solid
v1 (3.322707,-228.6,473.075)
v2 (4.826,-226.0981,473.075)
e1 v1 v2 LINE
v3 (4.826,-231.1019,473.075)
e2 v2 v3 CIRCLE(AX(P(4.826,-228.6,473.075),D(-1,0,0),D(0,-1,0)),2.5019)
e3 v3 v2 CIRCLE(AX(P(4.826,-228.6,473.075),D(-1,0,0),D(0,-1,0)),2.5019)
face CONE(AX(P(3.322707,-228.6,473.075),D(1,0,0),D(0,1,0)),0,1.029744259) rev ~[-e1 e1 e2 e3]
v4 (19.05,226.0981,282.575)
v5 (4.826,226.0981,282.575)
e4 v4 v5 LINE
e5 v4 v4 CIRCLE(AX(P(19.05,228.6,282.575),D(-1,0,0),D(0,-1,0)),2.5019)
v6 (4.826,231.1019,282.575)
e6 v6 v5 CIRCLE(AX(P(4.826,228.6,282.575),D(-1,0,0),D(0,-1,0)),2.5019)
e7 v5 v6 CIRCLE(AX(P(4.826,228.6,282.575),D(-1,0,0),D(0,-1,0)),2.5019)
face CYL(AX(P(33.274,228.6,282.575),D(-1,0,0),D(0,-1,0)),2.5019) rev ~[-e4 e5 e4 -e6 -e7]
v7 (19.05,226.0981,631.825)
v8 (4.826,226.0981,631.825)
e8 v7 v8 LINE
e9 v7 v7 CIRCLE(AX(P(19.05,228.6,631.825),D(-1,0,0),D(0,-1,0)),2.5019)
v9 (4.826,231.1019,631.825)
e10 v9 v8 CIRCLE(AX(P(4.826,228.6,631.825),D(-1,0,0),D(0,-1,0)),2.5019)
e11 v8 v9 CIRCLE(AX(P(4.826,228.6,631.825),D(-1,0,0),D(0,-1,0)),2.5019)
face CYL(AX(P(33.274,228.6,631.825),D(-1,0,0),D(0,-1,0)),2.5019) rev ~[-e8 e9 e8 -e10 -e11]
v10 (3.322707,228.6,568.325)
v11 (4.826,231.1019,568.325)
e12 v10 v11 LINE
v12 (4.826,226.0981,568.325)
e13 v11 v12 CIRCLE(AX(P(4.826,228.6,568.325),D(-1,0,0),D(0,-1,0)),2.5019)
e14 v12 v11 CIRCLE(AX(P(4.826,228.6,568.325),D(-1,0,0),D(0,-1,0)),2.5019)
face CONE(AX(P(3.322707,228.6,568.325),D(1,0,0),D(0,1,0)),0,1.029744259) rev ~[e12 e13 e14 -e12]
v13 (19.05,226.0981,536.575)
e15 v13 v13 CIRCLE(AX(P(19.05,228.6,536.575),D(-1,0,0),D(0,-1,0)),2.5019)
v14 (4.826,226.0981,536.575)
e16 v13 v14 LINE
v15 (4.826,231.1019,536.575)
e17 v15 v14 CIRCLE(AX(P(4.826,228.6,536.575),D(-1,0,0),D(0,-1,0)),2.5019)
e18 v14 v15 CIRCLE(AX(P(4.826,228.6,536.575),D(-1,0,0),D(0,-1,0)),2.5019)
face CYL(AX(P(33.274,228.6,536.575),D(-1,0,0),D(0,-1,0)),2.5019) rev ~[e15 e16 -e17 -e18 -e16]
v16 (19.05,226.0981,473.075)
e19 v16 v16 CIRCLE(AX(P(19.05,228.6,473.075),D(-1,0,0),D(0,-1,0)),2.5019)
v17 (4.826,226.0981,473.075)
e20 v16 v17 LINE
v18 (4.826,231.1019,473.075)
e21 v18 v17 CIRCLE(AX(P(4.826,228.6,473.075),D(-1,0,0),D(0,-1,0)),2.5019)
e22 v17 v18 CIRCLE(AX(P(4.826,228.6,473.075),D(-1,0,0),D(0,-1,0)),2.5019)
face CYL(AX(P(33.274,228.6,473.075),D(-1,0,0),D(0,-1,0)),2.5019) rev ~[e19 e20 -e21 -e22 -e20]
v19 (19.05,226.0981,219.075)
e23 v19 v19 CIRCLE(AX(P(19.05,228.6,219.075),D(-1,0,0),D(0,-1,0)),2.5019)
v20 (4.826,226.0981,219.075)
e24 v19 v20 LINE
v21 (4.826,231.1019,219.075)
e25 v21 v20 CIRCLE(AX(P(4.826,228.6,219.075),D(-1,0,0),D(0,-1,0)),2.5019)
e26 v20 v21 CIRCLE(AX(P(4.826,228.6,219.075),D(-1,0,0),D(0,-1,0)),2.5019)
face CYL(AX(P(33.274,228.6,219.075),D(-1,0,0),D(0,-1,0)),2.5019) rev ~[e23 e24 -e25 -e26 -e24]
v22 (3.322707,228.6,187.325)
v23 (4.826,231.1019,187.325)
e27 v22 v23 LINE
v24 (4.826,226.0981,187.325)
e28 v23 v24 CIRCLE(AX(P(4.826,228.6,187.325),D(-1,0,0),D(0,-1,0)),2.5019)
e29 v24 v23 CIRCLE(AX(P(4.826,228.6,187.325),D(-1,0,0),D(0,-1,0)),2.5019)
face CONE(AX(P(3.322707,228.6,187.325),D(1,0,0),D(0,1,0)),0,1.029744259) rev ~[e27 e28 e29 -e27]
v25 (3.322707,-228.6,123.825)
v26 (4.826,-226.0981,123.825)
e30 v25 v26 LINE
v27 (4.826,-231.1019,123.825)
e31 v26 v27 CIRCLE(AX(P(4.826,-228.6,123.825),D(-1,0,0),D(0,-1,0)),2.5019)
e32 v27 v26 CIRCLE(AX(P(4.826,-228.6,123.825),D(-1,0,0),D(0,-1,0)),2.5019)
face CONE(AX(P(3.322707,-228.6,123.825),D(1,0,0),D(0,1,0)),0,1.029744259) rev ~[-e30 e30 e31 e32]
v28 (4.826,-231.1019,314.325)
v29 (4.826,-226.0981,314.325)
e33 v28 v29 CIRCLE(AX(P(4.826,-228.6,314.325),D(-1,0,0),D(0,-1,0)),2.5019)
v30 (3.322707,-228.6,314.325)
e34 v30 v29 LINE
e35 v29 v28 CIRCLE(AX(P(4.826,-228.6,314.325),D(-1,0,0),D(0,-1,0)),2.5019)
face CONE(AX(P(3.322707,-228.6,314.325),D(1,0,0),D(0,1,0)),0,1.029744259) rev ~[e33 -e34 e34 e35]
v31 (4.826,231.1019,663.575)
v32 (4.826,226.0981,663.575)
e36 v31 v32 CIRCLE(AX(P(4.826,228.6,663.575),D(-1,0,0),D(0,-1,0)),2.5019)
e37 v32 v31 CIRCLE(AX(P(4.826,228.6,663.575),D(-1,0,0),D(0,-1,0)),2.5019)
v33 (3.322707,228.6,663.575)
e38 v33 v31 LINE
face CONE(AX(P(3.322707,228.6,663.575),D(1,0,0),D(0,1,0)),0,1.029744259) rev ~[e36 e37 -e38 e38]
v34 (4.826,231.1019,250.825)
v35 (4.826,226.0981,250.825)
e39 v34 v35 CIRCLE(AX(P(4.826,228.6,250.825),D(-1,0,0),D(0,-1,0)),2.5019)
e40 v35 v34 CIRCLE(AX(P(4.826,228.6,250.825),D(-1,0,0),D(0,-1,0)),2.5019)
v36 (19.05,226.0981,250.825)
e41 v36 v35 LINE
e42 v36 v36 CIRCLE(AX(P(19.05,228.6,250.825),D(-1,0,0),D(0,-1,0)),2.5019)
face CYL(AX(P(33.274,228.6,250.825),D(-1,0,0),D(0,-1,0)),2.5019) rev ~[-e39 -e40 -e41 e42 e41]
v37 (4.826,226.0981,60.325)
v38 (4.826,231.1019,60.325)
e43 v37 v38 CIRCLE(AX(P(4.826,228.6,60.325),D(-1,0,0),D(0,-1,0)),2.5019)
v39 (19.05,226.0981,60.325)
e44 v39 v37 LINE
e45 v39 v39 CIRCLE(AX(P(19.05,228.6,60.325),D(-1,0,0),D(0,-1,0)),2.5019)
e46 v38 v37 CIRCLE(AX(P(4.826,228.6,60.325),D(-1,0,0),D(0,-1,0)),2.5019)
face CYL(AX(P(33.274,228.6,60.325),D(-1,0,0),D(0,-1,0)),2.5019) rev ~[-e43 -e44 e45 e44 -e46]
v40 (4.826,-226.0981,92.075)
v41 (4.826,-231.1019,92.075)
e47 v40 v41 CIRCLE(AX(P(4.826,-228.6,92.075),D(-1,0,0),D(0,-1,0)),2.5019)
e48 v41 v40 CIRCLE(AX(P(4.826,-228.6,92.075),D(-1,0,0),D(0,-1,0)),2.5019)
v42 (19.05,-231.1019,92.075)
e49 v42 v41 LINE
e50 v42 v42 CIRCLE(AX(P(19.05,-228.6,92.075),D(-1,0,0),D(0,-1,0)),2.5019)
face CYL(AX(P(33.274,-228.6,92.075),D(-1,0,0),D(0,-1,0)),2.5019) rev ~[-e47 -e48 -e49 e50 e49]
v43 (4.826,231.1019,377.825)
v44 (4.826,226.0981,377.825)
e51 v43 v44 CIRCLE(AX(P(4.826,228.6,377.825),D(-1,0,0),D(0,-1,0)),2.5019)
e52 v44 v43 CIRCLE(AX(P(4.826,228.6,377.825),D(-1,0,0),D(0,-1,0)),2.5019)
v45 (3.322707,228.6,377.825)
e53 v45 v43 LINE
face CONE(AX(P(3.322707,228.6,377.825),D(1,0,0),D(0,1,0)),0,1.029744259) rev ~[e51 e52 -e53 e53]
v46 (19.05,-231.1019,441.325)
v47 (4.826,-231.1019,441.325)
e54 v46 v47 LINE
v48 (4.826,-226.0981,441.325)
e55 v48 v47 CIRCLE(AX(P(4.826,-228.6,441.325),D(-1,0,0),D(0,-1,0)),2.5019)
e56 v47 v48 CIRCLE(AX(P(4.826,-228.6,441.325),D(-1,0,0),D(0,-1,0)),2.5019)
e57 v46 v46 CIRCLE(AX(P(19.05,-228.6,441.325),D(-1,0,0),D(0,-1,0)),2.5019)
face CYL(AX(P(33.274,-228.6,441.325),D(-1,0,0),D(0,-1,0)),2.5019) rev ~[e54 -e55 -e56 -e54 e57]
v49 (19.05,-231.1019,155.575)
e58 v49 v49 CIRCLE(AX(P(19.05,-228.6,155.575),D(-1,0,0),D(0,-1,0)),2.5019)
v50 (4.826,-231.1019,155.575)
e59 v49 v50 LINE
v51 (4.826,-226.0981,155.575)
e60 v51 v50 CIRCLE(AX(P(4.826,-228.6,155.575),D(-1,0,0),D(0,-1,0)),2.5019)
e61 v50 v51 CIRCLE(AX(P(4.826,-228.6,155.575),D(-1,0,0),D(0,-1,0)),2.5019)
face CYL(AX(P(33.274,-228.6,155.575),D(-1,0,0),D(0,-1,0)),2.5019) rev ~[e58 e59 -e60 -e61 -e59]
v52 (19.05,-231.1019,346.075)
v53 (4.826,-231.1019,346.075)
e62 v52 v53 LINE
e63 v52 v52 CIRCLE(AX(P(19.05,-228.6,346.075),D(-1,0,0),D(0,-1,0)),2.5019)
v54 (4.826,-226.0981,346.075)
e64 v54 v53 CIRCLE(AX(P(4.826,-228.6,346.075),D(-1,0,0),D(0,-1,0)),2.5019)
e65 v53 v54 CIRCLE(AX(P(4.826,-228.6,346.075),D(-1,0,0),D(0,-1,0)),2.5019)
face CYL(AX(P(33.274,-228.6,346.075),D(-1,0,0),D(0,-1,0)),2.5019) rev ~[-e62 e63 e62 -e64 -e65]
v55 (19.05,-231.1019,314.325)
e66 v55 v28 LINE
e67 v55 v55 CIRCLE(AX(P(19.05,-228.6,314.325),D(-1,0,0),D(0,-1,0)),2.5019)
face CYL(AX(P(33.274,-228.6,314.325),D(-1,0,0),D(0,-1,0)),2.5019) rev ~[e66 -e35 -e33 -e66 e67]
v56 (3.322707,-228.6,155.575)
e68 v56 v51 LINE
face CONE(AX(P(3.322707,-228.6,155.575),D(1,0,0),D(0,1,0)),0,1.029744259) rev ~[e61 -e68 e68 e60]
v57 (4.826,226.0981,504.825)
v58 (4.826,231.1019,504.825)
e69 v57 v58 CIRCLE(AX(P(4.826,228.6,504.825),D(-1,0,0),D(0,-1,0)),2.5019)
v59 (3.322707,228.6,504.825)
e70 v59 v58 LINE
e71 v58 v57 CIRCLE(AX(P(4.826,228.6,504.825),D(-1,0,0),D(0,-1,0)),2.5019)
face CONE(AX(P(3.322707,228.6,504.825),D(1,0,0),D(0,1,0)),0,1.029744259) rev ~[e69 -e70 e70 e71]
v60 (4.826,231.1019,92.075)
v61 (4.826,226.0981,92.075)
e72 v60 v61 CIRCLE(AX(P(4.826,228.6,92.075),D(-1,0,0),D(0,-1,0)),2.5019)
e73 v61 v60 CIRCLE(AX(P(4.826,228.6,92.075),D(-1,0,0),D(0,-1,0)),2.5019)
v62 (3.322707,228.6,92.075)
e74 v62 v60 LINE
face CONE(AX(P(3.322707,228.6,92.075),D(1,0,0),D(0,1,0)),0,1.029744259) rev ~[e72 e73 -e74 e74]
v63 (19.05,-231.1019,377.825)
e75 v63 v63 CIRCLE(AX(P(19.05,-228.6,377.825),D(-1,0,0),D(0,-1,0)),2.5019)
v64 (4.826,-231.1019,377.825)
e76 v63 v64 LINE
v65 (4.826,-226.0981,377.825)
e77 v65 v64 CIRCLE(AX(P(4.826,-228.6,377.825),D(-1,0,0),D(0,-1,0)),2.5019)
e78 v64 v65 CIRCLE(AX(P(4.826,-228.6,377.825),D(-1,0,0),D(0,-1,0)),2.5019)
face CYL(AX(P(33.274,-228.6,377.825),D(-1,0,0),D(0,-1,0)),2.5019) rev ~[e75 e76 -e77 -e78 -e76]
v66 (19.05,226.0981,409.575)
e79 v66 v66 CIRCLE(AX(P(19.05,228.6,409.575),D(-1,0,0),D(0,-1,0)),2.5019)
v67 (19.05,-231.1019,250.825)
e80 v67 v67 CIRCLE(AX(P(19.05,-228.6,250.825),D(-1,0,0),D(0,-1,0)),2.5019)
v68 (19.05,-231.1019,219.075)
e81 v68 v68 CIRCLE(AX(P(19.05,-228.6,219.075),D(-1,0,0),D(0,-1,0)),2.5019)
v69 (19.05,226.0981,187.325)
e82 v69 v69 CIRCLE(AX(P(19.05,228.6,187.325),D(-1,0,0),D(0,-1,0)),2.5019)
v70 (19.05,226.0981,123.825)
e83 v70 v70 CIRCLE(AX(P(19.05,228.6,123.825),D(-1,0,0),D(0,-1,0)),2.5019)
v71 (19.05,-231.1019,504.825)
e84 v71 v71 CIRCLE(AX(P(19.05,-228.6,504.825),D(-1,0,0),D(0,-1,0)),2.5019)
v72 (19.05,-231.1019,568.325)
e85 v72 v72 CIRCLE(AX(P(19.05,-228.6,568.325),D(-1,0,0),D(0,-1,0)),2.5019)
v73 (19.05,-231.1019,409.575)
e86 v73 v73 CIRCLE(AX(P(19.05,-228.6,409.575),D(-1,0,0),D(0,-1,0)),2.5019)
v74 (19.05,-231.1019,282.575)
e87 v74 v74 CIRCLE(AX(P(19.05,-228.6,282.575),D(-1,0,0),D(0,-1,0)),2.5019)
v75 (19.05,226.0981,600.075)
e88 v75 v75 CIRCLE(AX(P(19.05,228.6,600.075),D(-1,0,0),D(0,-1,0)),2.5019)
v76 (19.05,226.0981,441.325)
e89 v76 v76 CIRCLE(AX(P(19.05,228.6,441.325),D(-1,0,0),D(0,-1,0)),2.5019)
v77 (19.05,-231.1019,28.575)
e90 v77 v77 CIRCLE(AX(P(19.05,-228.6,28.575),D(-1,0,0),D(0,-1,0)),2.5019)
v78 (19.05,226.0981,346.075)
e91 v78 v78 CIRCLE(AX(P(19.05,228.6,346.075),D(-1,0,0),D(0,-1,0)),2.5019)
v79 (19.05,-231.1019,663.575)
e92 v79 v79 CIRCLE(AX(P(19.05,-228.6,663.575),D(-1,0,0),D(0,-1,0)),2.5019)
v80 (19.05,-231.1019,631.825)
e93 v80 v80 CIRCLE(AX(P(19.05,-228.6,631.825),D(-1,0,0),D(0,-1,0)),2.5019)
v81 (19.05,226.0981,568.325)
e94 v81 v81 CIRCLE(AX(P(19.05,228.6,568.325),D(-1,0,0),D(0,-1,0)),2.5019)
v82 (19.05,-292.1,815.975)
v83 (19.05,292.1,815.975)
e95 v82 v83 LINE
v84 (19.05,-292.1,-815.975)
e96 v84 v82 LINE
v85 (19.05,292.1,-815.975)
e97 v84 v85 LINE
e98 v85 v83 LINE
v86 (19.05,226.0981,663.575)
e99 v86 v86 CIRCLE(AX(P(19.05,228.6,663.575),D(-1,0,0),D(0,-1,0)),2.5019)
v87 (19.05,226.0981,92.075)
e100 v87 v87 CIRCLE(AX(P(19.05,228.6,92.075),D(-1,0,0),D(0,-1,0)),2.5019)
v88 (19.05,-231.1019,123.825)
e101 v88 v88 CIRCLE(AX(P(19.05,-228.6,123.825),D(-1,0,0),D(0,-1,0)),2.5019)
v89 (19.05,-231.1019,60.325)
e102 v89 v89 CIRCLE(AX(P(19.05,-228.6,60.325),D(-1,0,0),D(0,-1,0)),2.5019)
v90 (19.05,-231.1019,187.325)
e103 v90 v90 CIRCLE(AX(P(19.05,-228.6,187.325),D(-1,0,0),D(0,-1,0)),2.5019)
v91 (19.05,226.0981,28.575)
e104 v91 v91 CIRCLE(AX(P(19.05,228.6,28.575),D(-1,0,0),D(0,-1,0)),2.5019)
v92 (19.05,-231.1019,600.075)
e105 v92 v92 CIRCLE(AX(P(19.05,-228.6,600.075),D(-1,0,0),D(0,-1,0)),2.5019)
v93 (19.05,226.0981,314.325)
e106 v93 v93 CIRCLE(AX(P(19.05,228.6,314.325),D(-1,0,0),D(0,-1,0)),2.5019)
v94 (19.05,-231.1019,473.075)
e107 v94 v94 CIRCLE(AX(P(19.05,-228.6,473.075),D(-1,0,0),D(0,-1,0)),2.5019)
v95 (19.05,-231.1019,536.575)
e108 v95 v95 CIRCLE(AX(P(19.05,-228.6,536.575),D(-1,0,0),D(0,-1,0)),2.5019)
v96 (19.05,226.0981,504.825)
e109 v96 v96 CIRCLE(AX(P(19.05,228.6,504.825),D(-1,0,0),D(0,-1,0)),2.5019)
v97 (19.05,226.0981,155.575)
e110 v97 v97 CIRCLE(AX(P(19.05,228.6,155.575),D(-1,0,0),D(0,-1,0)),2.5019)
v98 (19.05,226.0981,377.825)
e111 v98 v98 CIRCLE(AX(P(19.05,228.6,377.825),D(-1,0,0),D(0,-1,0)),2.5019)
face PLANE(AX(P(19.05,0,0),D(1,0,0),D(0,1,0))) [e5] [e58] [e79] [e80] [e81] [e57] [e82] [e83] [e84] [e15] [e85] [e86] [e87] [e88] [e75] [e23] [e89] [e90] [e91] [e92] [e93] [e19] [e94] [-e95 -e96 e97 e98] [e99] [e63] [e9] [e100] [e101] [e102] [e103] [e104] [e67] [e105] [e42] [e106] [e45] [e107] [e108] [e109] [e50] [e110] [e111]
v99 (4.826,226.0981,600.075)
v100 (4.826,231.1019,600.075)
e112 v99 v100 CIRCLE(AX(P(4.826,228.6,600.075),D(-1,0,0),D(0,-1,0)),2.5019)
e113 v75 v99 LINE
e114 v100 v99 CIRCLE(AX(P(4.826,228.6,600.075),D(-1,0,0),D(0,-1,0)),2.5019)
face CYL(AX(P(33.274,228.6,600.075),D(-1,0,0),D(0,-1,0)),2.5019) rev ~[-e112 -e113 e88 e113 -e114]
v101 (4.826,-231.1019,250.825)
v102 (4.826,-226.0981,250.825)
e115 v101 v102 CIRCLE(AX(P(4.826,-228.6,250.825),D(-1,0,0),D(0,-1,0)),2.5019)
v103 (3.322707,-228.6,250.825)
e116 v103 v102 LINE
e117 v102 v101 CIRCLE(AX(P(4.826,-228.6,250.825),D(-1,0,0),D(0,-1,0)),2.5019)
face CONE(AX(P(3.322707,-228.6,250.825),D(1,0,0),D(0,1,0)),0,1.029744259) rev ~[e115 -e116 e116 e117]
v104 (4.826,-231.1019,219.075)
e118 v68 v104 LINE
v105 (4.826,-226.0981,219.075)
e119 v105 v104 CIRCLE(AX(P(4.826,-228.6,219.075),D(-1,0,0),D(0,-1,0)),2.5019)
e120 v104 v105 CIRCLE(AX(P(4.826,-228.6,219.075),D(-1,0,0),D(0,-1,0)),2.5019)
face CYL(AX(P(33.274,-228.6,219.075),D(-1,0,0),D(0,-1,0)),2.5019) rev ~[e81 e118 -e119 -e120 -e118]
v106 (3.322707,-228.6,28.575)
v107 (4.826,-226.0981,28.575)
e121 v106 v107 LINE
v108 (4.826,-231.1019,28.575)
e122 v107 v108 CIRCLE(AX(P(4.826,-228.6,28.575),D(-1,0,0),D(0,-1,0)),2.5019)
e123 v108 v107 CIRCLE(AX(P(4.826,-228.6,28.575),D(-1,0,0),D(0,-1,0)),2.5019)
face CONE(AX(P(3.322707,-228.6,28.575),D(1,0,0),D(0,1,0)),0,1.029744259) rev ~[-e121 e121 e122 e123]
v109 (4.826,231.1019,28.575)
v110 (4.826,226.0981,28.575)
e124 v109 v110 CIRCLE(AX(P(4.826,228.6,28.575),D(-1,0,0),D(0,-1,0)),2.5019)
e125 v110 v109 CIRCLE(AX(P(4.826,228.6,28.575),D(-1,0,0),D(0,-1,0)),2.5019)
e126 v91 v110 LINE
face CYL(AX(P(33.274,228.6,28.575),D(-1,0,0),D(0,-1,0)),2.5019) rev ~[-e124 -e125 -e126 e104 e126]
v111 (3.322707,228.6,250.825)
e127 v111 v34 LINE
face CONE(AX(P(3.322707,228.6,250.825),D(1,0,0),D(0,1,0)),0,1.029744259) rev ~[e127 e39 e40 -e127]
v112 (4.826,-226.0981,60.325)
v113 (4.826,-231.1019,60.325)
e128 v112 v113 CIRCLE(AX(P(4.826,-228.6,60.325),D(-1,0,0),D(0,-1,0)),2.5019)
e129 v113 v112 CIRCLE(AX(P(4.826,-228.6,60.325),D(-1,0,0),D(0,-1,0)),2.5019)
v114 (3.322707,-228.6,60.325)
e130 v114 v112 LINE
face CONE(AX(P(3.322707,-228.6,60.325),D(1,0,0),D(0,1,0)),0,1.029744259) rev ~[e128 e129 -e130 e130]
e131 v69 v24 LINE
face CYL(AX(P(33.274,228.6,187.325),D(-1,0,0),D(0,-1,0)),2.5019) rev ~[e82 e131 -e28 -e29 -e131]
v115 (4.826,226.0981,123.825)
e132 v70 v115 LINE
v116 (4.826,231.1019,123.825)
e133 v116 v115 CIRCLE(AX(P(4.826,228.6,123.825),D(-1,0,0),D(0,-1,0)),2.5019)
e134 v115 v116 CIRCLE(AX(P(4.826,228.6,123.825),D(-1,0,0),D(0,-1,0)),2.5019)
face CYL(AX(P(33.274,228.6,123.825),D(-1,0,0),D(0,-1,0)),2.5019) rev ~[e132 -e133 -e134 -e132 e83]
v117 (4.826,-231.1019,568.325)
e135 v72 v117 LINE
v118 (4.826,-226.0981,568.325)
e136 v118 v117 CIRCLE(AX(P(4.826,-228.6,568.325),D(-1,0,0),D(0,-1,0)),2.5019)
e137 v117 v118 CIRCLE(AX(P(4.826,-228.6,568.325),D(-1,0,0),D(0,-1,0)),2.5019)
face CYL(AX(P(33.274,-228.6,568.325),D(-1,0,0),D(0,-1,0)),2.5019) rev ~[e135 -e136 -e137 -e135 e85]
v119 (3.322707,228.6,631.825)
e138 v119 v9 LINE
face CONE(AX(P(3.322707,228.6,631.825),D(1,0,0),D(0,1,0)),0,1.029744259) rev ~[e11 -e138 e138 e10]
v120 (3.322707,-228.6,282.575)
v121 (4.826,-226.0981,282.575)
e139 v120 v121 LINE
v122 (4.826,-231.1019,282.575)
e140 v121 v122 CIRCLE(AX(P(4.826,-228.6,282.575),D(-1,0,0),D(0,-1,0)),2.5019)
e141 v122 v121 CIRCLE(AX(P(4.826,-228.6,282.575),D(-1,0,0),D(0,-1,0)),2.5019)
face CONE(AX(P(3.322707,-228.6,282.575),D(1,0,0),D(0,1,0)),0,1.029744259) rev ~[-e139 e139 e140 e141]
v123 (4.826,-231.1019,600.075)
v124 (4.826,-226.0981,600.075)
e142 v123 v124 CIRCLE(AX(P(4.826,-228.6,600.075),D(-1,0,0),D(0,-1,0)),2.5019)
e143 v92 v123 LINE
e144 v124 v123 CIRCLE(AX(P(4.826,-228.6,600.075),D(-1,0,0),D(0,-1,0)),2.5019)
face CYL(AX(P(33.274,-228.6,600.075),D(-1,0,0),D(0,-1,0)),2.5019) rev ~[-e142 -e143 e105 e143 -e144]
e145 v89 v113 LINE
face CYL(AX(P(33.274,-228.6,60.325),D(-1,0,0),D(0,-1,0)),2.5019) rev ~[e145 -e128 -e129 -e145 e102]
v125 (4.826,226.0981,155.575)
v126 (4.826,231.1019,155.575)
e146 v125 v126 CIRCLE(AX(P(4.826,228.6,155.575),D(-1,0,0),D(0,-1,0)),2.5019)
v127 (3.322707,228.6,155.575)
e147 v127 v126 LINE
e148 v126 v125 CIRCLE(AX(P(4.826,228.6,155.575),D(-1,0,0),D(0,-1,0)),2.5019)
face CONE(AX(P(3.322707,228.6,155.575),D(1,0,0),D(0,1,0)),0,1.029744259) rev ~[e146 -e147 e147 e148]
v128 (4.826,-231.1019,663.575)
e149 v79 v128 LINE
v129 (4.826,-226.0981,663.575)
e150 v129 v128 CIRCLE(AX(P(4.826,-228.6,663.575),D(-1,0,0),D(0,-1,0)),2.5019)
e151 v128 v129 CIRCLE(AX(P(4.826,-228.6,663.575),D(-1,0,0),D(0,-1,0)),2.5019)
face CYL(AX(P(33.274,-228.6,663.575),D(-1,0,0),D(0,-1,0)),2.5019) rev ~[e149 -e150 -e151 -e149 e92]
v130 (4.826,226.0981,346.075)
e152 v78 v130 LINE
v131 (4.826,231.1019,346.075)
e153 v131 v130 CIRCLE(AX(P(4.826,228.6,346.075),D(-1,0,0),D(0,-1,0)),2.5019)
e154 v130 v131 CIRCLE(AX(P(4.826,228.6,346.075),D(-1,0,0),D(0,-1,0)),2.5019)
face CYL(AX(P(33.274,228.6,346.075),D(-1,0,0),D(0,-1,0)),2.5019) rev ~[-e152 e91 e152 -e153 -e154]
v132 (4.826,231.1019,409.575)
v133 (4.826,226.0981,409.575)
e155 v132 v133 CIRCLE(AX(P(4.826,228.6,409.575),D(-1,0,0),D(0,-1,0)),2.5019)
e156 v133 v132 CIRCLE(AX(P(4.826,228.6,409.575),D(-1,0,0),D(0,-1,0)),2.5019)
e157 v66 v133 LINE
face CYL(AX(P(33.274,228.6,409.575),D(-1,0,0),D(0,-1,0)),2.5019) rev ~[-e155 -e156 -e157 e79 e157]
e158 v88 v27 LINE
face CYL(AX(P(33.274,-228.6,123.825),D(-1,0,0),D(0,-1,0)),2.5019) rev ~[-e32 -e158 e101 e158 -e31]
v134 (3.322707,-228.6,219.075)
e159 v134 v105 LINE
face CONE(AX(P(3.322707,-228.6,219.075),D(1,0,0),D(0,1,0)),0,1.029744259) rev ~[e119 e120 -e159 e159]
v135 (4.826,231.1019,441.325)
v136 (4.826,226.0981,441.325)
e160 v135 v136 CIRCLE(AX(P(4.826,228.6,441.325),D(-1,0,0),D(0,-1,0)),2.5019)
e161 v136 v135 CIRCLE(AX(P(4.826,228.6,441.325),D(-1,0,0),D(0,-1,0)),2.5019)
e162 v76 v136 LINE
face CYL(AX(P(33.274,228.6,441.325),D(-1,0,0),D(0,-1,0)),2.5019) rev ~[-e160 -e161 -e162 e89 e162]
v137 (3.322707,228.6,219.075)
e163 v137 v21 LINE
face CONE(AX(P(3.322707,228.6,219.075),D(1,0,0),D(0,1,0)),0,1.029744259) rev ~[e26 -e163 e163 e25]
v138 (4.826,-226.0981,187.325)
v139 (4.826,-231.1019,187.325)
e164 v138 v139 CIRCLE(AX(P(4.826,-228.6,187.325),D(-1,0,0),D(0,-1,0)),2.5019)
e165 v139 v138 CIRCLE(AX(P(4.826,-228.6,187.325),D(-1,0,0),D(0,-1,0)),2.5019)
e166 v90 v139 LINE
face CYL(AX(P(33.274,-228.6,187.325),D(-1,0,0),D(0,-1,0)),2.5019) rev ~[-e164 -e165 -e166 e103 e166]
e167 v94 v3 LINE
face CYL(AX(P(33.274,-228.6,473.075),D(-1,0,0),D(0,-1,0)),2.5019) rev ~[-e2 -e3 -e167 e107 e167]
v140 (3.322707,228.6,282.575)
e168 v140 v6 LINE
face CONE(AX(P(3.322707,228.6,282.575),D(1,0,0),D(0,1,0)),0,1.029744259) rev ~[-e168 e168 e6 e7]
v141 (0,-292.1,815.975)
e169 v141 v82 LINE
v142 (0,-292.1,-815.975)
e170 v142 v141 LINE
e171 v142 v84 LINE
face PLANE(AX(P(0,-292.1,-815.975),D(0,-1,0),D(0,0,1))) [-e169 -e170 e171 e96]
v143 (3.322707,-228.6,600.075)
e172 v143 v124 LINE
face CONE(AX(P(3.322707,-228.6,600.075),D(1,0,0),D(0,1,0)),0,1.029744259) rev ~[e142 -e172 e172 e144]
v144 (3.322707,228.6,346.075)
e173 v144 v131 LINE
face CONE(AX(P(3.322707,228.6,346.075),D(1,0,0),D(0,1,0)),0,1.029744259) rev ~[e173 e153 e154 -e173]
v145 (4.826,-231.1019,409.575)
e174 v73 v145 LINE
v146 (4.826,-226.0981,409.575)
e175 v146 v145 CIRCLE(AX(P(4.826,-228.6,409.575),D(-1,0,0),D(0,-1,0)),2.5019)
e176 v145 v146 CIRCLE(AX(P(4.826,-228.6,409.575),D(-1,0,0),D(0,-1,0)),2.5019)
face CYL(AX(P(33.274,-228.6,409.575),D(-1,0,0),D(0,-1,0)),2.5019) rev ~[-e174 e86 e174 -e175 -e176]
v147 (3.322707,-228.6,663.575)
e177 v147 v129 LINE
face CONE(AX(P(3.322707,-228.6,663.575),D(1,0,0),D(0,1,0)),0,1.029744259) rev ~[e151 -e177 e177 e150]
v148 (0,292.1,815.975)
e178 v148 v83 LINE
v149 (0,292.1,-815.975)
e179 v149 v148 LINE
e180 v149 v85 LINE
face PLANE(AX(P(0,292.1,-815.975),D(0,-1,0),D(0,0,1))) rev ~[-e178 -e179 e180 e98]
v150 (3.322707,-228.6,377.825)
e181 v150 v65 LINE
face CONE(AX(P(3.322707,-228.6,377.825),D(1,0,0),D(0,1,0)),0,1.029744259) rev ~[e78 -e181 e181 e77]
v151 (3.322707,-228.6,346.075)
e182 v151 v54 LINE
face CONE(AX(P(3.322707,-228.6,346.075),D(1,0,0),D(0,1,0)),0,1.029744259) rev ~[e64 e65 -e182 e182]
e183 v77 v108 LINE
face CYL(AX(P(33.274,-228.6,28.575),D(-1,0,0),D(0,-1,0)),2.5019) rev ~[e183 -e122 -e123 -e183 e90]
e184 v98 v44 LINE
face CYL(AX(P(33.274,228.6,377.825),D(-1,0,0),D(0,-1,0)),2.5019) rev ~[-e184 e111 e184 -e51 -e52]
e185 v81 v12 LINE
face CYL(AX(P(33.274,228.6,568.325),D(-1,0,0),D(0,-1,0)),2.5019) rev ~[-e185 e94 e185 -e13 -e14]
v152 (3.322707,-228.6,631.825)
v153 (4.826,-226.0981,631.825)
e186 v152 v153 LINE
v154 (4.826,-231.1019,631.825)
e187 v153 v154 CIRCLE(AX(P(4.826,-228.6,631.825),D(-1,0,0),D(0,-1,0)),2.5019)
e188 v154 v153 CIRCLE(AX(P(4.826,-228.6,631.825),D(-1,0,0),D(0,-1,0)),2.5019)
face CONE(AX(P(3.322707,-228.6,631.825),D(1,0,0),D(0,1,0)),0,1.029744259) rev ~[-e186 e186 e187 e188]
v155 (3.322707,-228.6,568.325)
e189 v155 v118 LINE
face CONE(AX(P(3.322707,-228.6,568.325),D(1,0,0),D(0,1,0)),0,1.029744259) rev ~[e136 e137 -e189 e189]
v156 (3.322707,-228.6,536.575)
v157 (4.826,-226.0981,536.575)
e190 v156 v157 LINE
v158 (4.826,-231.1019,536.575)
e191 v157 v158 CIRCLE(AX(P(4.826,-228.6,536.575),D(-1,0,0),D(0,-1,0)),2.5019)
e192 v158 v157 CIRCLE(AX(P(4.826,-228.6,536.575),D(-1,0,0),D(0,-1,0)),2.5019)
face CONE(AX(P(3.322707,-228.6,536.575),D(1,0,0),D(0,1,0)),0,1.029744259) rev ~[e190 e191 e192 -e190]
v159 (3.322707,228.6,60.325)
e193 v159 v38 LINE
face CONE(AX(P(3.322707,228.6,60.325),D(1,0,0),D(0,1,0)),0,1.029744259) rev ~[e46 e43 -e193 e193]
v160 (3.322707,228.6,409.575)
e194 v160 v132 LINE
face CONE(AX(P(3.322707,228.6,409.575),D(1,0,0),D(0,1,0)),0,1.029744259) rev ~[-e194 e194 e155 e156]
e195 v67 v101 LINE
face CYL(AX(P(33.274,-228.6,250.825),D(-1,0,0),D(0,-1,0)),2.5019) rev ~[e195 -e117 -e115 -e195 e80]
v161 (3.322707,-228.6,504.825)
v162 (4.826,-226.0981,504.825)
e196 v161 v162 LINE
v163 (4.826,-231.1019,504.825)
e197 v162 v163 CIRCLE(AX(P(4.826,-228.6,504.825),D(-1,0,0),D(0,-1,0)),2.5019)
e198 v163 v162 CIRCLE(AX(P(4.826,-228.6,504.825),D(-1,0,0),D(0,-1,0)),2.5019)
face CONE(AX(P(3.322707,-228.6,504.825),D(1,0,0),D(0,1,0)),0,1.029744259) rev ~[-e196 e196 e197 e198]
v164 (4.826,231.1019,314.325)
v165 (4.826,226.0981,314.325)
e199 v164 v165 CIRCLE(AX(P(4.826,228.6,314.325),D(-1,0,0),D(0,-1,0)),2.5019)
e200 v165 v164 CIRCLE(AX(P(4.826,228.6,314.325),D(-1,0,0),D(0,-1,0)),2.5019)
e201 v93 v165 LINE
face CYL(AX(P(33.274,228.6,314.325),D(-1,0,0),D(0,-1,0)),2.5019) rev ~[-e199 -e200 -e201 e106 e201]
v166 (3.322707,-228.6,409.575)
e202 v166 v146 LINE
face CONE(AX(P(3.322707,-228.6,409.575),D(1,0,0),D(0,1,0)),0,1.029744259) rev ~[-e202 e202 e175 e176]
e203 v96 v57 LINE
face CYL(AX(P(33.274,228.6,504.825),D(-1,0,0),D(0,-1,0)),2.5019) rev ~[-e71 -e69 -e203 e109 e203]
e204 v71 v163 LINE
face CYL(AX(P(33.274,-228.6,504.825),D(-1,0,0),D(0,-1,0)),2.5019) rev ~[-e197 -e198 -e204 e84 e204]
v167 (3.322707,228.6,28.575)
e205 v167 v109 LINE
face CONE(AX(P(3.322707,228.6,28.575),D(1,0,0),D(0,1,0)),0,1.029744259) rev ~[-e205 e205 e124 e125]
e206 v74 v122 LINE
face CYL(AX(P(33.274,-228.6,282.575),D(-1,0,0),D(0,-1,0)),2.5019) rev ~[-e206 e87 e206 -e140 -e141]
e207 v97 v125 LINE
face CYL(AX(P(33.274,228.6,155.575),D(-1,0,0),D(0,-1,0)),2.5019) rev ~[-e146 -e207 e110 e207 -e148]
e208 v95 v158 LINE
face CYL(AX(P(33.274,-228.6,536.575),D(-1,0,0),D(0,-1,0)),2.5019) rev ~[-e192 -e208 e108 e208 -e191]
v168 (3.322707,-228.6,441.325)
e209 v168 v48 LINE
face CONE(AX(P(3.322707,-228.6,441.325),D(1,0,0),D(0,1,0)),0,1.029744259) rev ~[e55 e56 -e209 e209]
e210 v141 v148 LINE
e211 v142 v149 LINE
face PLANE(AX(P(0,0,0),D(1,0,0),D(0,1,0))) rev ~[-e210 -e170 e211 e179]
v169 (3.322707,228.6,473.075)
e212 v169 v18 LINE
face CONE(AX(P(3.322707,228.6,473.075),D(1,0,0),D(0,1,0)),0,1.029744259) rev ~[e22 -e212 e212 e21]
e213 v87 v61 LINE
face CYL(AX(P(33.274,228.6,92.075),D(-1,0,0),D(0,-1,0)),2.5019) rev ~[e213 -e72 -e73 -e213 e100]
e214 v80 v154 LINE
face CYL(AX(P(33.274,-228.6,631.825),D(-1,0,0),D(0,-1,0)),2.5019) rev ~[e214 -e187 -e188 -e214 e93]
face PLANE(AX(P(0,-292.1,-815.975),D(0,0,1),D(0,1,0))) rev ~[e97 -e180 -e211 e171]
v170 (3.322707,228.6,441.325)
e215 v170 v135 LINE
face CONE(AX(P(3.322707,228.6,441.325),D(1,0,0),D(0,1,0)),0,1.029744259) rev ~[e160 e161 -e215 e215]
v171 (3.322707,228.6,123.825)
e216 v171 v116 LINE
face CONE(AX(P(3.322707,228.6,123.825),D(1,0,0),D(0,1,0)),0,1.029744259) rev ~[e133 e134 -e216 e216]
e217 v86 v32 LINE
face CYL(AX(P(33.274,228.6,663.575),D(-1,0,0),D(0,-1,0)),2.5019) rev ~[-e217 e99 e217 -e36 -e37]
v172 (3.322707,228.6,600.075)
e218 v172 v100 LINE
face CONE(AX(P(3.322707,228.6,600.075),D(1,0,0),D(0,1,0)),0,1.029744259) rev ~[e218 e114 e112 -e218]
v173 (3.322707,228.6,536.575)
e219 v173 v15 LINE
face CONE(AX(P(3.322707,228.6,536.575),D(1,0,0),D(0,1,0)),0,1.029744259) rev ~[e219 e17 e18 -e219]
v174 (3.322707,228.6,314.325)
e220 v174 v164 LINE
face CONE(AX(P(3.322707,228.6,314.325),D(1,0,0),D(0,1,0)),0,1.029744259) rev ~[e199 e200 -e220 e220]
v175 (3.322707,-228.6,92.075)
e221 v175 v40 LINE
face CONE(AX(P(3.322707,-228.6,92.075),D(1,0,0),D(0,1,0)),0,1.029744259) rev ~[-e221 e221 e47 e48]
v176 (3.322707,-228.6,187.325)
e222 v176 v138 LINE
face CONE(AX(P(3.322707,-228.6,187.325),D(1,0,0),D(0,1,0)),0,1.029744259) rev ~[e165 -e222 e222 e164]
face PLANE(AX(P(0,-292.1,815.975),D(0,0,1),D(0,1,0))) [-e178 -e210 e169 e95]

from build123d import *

# Parameters (mm, degrees)
F0_W     = 584.2
F0_H     = 1631.95
F1_DEPTH = 19.05
F3_D     = 5.0038
F3_DEPTH = 14.224
F3_TIP   = 1.5032931827


with BuildPart() as f1:
    # F0 (on Right) → F1 (new body)
    with BuildSketch(Plane.YZ):
        Rectangle(F0_W, F0_H)
    extrude(amount=F1_DEPTH)

    # F3
    with Locations(Plane.YZ.offset(19.05)):
        with Locations((-228.6, 663.575), (-228.6, 631.825), (-228.6, 600.075), (-228.6, 568.325), (-228.6, 536.575), (-228.6, 504.825), (-228.6, 473.075), (-228.6, 441.325), (-228.6, 409.575), (-228.6, 377.825), (-228.6, 346.075), (-228.6, 314.325), (-228.6, 282.575), (-228.6, 250.825), (-228.6, 219.075), (-228.6, 187.325), (-228.6, 155.575), (-228.6, 123.825), (-228.6, 92.075), (-228.6, 60.325), (-228.6, 28.575), (228.6, 663.575), (228.6, 631.825), (228.6, 600.075), (228.6, 568.325), (228.6, 536.575), (228.6, 504.825), (228.6, 473.075), (228.6, 441.325), (228.6, 409.575), (228.6, 377.825), (228.6, 346.075), (228.6, 314.325), (228.6, 282.575), (228.6, 250.825), (228.6, 219.075), (228.6, 187.325), (228.6, 155.575), (228.6, 123.825), (228.6, 92.075), (228.6, 60.325), (228.6, 28.575)):
            Hole(F3_D / 2, depth=F3_DEPTH)
            with Locations((0, 0, -(F3_DEPTH + F3_TIP / 2))):  # 118° drill point
                Cone(0, F3_D / 2, F3_TIP, mode=Mode.SUBTRACT)


solid = f1.part
